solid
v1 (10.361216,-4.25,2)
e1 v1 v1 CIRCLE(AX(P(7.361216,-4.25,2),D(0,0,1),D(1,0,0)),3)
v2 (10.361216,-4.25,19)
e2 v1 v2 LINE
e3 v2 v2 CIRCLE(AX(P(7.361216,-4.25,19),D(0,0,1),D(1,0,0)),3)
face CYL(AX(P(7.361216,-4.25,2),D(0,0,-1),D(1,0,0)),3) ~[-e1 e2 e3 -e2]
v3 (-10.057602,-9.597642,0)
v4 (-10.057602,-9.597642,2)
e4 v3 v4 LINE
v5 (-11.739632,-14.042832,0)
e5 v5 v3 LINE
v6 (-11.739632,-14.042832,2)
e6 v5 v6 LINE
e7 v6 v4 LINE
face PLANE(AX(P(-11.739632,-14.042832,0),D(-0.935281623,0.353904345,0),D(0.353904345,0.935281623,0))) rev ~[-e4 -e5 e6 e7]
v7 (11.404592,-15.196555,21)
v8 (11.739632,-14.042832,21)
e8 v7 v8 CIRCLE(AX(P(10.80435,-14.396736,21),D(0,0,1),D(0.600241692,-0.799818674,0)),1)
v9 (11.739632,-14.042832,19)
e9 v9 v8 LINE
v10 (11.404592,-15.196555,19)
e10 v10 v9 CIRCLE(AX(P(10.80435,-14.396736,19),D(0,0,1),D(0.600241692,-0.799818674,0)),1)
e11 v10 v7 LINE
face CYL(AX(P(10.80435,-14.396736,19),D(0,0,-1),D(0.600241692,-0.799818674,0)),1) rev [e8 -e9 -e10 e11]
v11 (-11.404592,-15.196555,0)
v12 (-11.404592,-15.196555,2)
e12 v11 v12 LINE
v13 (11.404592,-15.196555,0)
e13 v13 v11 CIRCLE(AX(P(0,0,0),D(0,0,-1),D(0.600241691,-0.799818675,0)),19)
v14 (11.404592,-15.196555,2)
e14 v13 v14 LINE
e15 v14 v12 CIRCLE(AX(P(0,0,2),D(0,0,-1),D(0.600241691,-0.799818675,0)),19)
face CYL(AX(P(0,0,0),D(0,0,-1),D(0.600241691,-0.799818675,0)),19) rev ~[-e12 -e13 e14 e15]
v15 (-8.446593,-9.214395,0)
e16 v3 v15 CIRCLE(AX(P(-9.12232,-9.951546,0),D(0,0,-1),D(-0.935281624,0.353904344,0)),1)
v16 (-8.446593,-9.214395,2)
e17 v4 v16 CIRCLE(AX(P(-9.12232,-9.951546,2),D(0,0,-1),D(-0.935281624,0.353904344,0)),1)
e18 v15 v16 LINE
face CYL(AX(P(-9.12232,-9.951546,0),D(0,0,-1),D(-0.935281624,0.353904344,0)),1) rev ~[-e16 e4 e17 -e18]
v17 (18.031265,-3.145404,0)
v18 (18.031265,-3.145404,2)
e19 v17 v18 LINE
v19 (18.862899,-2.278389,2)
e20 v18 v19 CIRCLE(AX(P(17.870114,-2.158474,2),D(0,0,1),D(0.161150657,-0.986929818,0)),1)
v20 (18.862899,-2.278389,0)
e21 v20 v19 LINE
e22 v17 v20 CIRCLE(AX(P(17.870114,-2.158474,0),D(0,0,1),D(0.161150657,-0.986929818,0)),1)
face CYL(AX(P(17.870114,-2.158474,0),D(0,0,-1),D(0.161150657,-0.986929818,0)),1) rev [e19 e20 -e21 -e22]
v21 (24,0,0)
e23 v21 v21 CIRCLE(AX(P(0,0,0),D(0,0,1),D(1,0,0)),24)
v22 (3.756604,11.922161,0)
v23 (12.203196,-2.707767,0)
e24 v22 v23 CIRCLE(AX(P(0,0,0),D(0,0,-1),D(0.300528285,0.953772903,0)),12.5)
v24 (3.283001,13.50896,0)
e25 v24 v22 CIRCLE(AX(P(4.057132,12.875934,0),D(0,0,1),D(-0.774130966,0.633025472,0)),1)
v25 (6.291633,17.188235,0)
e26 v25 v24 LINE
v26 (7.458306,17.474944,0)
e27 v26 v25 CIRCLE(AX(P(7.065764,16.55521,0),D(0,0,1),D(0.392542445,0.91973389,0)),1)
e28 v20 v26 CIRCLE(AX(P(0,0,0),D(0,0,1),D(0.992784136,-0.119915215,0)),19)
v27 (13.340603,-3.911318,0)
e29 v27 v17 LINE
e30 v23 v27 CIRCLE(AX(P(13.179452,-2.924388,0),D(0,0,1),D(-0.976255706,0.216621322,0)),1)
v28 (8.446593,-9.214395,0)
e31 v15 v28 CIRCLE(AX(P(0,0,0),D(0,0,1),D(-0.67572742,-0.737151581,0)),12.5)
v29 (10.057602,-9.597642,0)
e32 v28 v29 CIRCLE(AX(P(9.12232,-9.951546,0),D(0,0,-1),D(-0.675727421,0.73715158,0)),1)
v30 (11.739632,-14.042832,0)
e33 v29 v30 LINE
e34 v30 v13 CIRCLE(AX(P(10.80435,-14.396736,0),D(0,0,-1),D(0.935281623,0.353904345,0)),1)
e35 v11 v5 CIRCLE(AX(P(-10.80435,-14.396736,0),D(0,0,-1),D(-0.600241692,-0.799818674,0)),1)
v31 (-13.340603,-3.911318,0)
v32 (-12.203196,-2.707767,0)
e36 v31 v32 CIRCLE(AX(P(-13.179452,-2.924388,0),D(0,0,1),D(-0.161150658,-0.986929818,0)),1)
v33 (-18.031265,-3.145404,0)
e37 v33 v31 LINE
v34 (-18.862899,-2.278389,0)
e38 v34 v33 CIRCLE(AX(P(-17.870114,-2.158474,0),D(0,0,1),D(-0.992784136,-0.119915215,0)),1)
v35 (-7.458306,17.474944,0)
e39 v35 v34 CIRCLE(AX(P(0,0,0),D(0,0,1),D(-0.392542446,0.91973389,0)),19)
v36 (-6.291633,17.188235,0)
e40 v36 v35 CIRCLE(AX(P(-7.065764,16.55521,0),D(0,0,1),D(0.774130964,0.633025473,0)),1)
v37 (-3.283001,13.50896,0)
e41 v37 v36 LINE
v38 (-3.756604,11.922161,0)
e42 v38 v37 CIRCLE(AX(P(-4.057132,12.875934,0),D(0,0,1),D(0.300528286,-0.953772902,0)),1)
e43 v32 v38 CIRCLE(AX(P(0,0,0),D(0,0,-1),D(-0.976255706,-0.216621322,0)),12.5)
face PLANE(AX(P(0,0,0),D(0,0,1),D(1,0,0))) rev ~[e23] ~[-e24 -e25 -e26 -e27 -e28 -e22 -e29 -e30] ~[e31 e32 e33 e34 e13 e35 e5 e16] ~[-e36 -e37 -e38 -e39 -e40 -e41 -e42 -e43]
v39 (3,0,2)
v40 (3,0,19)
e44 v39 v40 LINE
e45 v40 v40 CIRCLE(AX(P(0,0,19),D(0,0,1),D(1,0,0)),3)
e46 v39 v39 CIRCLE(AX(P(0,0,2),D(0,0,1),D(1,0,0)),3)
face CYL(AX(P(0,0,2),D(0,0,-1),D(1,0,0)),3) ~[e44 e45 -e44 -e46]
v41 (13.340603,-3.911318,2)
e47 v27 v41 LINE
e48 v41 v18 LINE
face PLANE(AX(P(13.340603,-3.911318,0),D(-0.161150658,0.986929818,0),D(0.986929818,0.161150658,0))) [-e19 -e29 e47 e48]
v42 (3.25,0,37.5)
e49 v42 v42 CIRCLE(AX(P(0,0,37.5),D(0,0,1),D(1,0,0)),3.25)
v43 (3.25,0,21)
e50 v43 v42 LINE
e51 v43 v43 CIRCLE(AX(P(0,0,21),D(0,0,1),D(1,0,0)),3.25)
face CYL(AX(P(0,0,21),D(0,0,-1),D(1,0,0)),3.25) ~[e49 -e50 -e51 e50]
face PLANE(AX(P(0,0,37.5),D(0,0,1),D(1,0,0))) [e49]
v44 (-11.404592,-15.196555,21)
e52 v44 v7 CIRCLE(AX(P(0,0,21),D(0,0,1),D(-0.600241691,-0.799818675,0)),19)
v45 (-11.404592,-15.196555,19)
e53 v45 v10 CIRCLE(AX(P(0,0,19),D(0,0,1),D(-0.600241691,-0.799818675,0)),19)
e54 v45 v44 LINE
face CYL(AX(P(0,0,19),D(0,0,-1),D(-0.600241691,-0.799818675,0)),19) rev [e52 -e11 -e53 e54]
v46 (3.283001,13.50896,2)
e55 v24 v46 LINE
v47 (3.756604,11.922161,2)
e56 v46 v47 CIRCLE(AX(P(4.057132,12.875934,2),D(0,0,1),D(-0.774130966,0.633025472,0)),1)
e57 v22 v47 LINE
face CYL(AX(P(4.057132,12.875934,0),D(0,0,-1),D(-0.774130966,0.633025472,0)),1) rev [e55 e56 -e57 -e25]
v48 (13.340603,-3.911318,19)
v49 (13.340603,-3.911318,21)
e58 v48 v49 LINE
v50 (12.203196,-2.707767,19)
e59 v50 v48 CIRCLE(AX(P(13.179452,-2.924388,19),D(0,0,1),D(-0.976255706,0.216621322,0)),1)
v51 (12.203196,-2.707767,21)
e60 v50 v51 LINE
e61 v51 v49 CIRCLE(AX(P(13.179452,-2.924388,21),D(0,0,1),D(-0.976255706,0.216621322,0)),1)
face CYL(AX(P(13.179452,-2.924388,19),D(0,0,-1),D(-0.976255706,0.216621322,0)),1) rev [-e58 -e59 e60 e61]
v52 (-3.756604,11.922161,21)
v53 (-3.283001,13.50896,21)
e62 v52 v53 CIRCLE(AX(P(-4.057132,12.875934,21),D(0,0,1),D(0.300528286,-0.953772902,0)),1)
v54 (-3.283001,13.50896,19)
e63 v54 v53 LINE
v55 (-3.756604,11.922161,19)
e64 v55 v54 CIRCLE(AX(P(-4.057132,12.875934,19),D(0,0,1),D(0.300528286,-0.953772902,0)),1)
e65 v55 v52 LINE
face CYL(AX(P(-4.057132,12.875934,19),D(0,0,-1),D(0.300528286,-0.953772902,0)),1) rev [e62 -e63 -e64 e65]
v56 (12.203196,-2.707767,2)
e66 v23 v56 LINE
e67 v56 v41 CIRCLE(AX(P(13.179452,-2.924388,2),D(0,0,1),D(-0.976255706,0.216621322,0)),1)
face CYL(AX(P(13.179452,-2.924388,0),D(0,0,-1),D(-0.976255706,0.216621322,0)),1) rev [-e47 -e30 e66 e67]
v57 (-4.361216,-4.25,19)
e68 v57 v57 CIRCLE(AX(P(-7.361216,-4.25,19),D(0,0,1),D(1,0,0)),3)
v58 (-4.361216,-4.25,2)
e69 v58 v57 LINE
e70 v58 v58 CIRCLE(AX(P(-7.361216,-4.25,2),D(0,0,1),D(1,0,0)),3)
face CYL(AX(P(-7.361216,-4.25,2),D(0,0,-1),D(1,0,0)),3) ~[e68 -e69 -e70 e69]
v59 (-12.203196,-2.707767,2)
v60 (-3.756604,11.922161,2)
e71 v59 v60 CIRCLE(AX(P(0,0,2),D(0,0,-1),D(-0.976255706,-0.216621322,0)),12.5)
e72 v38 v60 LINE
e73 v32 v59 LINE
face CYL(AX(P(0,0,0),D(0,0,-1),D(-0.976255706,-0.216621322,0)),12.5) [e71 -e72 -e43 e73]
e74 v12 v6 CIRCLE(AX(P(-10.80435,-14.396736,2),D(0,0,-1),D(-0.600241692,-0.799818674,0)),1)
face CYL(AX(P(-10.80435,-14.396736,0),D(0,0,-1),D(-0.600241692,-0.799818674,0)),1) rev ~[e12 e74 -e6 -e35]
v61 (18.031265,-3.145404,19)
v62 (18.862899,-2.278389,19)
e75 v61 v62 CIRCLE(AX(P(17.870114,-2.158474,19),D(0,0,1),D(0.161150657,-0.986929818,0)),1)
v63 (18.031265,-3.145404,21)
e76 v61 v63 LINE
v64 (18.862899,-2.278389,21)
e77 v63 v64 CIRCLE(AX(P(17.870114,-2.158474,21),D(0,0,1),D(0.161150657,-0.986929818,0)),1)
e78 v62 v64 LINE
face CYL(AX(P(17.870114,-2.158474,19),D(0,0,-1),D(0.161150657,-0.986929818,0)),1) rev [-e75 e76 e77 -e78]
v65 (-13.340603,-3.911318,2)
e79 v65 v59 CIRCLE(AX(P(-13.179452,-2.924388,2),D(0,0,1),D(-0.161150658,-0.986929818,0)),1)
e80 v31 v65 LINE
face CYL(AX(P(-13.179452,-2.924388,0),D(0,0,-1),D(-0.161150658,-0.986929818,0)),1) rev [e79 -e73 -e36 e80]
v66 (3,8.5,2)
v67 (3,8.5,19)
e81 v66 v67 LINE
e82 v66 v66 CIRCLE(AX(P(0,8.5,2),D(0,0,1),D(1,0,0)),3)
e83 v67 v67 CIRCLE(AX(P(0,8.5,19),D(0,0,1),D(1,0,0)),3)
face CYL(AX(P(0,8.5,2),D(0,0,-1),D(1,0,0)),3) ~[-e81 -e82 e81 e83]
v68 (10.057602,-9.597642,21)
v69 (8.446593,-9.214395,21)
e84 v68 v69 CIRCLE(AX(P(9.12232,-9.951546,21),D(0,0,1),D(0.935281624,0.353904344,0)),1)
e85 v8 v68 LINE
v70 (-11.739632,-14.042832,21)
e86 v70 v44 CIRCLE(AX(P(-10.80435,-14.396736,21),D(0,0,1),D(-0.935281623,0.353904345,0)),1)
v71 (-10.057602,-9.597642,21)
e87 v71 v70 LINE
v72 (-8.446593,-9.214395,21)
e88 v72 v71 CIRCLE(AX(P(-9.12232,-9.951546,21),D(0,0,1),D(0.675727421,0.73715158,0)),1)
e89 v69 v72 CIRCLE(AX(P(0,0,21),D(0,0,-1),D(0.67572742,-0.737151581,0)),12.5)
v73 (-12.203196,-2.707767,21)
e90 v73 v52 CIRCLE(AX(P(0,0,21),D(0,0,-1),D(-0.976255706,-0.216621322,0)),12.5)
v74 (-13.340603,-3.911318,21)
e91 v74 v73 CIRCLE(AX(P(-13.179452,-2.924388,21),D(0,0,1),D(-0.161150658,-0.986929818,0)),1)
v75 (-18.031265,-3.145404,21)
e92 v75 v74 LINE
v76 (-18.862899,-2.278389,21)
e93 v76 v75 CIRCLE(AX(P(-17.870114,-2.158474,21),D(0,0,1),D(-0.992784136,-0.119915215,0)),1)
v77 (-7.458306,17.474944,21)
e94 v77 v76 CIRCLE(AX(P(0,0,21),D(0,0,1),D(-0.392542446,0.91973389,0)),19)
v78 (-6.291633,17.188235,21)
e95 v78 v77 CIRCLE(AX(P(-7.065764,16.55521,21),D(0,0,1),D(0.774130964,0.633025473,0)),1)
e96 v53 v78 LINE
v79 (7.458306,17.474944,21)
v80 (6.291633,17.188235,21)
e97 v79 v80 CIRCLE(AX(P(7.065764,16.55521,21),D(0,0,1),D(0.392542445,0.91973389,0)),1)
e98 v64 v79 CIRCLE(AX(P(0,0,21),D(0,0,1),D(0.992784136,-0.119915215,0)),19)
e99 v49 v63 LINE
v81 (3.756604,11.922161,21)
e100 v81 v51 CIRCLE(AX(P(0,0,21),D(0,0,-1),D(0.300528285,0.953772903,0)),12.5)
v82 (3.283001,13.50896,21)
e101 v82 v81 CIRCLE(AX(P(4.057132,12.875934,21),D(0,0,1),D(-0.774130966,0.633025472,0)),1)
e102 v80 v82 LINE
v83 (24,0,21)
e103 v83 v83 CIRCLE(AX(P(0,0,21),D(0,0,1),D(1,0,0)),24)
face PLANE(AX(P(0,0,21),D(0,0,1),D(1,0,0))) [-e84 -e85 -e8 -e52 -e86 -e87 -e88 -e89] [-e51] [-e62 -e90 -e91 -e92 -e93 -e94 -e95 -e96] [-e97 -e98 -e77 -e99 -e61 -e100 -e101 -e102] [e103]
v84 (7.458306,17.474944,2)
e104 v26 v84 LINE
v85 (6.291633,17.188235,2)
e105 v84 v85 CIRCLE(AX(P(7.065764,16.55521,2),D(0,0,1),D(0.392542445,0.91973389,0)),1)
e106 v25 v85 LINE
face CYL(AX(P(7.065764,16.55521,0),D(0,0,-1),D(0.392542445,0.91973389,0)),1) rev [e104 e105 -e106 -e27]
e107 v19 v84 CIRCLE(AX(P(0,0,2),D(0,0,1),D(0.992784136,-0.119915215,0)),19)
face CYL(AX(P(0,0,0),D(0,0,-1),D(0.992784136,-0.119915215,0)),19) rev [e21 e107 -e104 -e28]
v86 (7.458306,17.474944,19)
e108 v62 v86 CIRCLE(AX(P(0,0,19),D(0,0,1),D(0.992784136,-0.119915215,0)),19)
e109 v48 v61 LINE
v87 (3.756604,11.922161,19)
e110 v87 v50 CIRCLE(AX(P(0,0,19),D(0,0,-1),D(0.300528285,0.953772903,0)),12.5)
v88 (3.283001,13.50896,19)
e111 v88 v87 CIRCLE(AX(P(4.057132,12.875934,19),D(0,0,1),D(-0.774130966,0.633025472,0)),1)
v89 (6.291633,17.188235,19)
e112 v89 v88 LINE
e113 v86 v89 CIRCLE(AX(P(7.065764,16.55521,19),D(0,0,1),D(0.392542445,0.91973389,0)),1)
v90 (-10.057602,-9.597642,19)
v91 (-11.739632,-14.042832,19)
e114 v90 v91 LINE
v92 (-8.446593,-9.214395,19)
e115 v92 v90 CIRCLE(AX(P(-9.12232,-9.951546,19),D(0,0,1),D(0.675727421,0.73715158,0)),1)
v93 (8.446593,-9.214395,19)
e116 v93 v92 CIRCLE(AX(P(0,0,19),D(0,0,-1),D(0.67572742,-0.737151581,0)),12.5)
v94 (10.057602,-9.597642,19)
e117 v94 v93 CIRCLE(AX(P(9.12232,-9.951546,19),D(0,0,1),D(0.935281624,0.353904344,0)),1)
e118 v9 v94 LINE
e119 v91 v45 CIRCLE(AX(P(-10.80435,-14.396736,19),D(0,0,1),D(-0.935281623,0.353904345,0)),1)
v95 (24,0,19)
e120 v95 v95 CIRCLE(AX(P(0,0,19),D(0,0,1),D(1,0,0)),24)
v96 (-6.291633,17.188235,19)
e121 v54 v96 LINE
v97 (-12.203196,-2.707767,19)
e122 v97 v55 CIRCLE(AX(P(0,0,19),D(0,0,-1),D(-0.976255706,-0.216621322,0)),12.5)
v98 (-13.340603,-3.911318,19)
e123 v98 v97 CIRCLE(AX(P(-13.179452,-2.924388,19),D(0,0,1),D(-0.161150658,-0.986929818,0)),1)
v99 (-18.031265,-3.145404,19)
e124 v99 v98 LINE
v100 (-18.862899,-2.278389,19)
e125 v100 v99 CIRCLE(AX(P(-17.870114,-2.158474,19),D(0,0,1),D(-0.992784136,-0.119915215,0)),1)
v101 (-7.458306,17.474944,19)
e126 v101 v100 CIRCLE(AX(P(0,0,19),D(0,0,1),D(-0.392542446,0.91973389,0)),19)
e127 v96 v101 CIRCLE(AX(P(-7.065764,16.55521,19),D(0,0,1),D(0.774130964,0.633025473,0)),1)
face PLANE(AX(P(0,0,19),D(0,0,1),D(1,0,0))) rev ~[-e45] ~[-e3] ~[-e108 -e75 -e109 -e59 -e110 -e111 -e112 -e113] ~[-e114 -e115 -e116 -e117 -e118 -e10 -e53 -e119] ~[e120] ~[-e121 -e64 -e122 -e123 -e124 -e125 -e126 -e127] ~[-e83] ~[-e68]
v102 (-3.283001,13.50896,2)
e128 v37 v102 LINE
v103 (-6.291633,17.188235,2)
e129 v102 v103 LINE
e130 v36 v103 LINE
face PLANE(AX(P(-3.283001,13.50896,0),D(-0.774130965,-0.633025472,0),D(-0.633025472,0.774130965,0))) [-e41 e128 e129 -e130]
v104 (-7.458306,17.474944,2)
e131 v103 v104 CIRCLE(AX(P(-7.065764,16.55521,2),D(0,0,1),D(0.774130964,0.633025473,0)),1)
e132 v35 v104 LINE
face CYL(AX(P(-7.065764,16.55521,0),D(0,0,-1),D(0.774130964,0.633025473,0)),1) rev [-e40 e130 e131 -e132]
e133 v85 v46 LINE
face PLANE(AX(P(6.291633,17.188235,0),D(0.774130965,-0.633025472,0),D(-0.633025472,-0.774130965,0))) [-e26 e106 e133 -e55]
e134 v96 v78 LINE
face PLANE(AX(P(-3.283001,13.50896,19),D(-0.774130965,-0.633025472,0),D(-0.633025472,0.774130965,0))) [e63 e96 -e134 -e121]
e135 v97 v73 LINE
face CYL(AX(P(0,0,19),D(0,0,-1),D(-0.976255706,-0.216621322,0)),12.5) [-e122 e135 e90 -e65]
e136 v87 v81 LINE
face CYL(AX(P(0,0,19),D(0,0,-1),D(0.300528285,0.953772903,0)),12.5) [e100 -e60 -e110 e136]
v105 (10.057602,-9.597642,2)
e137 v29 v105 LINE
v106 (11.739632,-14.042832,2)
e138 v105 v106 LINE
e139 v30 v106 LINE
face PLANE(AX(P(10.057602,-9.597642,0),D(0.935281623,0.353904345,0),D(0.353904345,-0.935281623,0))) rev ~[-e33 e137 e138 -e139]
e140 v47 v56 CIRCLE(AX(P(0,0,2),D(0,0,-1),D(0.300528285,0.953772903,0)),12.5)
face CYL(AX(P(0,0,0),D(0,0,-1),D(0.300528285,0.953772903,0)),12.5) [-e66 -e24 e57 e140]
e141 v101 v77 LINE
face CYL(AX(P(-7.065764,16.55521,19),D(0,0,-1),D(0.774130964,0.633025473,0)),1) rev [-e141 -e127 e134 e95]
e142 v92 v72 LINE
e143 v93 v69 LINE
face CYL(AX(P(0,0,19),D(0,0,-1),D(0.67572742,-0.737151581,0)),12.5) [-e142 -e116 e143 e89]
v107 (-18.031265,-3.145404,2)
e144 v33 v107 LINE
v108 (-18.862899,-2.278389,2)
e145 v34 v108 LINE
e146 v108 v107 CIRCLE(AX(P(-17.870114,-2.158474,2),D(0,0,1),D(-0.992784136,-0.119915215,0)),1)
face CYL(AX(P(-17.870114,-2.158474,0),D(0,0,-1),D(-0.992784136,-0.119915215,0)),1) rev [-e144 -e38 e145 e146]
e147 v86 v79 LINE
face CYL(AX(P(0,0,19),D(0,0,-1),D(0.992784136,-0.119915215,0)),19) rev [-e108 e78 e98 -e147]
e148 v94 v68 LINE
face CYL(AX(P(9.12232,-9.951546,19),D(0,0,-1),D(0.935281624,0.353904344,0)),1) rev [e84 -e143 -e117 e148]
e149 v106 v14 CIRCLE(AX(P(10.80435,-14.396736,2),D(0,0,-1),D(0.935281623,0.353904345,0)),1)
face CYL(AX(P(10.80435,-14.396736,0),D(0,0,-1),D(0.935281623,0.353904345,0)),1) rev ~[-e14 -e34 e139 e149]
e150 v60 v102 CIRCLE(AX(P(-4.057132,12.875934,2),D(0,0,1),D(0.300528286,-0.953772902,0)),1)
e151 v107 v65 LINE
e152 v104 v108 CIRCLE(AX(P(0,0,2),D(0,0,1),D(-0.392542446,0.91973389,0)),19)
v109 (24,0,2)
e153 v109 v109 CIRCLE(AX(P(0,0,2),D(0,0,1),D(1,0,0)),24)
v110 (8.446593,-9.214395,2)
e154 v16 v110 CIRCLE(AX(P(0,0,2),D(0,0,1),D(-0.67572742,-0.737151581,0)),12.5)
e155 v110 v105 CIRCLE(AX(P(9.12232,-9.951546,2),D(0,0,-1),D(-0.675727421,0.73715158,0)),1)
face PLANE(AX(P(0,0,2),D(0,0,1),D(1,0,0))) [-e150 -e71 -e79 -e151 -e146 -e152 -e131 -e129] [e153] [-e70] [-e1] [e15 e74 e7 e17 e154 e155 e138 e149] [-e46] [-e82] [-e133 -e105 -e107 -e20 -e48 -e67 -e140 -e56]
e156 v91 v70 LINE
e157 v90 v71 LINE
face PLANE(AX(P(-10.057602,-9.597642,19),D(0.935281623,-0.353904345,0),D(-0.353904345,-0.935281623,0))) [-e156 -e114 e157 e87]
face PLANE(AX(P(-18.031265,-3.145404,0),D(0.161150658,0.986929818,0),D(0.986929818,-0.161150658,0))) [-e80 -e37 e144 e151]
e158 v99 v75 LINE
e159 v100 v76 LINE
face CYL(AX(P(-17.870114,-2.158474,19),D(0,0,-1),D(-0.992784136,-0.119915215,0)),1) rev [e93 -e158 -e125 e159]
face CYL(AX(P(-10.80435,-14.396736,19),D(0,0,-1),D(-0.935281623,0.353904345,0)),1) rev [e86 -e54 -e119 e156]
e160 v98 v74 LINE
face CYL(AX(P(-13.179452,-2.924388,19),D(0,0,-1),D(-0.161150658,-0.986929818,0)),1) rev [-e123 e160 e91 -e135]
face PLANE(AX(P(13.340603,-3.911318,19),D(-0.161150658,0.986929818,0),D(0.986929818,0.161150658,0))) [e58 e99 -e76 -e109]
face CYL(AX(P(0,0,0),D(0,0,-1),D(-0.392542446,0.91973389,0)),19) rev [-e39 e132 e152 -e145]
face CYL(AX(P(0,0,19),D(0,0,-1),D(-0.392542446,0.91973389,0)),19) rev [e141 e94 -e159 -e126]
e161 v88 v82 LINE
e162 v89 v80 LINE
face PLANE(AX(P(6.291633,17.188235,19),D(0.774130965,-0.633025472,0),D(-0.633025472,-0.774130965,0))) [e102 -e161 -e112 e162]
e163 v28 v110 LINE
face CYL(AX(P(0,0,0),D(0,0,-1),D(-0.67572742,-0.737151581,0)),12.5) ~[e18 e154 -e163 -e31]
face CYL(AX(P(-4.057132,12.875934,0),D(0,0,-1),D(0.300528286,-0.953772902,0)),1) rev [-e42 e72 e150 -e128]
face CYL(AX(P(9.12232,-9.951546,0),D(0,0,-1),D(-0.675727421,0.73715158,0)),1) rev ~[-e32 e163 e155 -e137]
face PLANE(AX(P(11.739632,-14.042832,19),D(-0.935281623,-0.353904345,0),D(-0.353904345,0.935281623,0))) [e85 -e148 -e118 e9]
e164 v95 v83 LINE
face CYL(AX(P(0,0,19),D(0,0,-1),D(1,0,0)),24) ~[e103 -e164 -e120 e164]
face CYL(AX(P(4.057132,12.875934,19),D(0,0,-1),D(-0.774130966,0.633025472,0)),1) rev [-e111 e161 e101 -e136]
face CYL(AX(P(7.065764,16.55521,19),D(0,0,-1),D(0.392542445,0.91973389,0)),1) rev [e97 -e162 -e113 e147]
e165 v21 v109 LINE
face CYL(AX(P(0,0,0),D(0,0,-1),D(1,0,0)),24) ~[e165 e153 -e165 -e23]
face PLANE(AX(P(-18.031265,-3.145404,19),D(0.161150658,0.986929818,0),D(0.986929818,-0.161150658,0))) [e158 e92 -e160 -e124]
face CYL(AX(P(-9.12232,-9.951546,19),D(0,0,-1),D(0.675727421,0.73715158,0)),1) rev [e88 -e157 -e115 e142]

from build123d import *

# Parameters (mm, degrees)
SKETCH_1_R      = 24
EXTRUDE_1_DEPTH = 2
SKETCH_2_R      = 3
EXTRUDE_2_DEPTH = 17
SKETCH_3_R      = 24
EXTRUDE_3_DEPTH = 2
SKETCH_4_R      = 3.25
EXTRUDE_4_DEPTH = 16.5


with BuildPart() as part:
    # 草图1 → 凸台-拉伸1 (new body)
    with BuildSketch(Plane.XY):
        Circle(SKETCH_1_R)
        with BuildLine():
            Line((-11.739632055, -14.042831804), (-10.057601798, -9.597641998))
            ThreePointArc((-10.057601798, -9.597641998), (-9.353754198, -8.978695741), (-8.446592755, -9.214394762))
            ThreePointArc((-8.446592755, -9.214394762), (0, -12.5), (8.446592755, -9.214394762))
            ThreePointArc((8.446592755, -9.214394762), (9.353754198, -8.978695741), (10.057601798, -9.597641998))
            Line((10.057601798, -9.597641998), (11.739632055, -14.042831804))
            ThreePointArc((11.739632055, -14.042831804), (11.764677024, -14.675613965), (11.404592123, -15.196554824))
            ThreePointArc((11.404592123, -15.196554824), (0, -19), (-11.404592123, -15.196554824))
            ThreePointArc((-11.404592123, -15.196554824), (-11.764677024, -14.675613965), (-11.739632055, -14.042831804))
        make_face(mode=Mode.SUBTRACT)
        with BuildLine():
            Line((-18.03126511, -3.145403689), (-13.340602686, -3.91131766))
            ThreePointArc((-13.340602686, -3.91131766), (-12.452655704, -3.611240886), (-12.203196322, -2.70776652))
            ThreePointArc((-12.203196322, -2.70776652), (-10.825317547, 6.25), (-3.756603567, 11.922161282))
            ThreePointArc((-3.756603567, 11.922161282), (-3.098901506, 12.589936627), (-3.283000887, 13.508959657))
            Line((-3.283000887, 13.508959657), (-6.291633055, 17.188235493))
            ThreePointArc((-6.291633055, 17.188235493), (-6.827115998, 17.526316153), (-7.458306466, 17.47494391))
            ThreePointArc((-7.458306466, 17.47494391), (-16.454482672, 9.5), (-18.862898589, -2.278389086))
            ThreePointArc((-18.862898589, -2.278389086), (-18.591793022, -2.850702188), (-18.03126511, -3.145403689))
        make_face(mode=Mode.SUBTRACT)
        with BuildLine():
            Line((6.291633055, 17.188235493), (3.283000887, 13.508959657))
            ThreePointArc((3.283000887, 13.508959657), (3.098901506, 12.589936627), (3.756603567, 11.922161282))
            ThreePointArc((3.756603567, 11.922161282), (10.825317547, 6.25), (12.203196322, -2.70776652))
            ThreePointArc((12.203196322, -2.70776652), (12.452655704, -3.611240886), (13.340602686, -3.91131766))
            Line((13.340602686, -3.91131766), (18.03126511, -3.145403689))
            ThreePointArc((18.03126511, -3.145403689), (18.591793022, -2.850702188), (18.862898589, -2.278389086))
            ThreePointArc((18.862898589, -2.278389086), (16.454482672, 9.5), (7.458306466, 17.47494391))
            ThreePointArc((7.458306466, 17.47494391), (6.827115998, 17.526316153), (6.291633055, 17.188235493))
        make_face(mode=Mode.SUBTRACT)
    extrude(amount=EXTRUDE_1_DEPTH)

    # 草图2 → 凸台-拉伸2 (add)
    with BuildSketch(Plane.XY.offset(2)):
        Circle(SKETCH_2_R)
        with Locations((0, 8.5)):
            Circle(SKETCH_2_R)
        with Locations((7.361215932, -4.25)):
            Circle(SKETCH_2_R)
        with Locations((-7.361215932, -4.25)):
            Circle(SKETCH_2_R)
    extrude(amount=EXTRUDE_2_DEPTH)

    # 草图3 → 凸台-拉伸3 (add)
    with BuildSketch(Plane.XY.offset(19)):
        Circle(SKETCH_3_R)
        with BuildLine():
            Line((-10.057601798, -9.597641998), (-11.739632055, -14.042831804))
            ThreePointArc((-11.739632055, -14.042831804), (-11.764677024, -14.675613965), (-11.404592123, -15.196554824))
            ThreePointArc((-11.404592123, -15.196554824), (0, -19), (11.404592123, -15.196554824))
            ThreePointArc((11.404592123, -15.196554824), (11.764677024, -14.675613965), (11.739632055, -14.042831804))
            Line((11.739632055, -14.042831804), (10.057601798, -9.597641998))
            ThreePointArc((10.057601798, -9.597641998), (9.353754198, -8.978695741), (8.446592755, -9.214394762))
            ThreePointArc((8.446592755, -9.214394762), (0, -12.5), (-8.446592755, -9.214394762))
            ThreePointArc((-8.446592755, -9.214394762), (-9.353754198, -8.978695741), (-10.057601798, -9.597641998))
        make_face(mode=Mode.SUBTRACT)
        with BuildLine():
            Line((6.291633055, 17.188235493), (3.283000887, 13.508959657))
            ThreePointArc((3.283000887, 13.508959657), (3.098901506, 12.589936627), (3.756603567, 11.922161282))
            ThreePointArc((3.756603567, 11.922161282), (10.825317547, 6.25), (12.203196322, -2.70776652))
            ThreePointArc((12.203196322, -2.70776652), (12.452655704, -3.611240886), (13.340602686, -3.91131766))
            Line((13.340602686, -3.91131766), (18.03126511, -3.145403689))
            ThreePointArc((18.03126511, -3.145403689), (18.591793022, -2.850702188), (18.862898589, -2.278389086))
            ThreePointArc((18.862898589, -2.278389086), (16.454482672, 9.5), (7.458306466, 17.47494391))
            ThreePointArc((7.458306466, 17.47494391), (6.827115998, 17.526316153), (6.291633055, 17.188235493))
        make_face(mode=Mode.SUBTRACT)
        with BuildLine():
            Line((-3.283000887, 13.508959657), (-6.291633055, 17.188235493))
            ThreePointArc((-6.291633055, 17.188235493), (-6.827115998, 17.526316153), (-7.458306466, 17.47494391))
            ThreePointArc((-7.458306466, 17.47494391), (-16.454482672, 9.5), (-18.862898589, -2.278389086))
            ThreePointArc((-18.862898589, -2.278389086), (-18.591793022, -2.850702188), (-18.03126511, -3.145403689))
            Line((-18.03126511, -3.145403689), (-13.340602686, -3.91131766))
            ThreePointArc((-13.340602686, -3.91131766), (-12.452655704, -3.611240886), (-12.203196322, -2.70776652))
            ThreePointArc((-12.203196322, -2.70776652), (-10.825317547, 6.25), (-3.756603567, 11.922161282))
            ThreePointArc((-3.756603567, 11.922161282), (-3.098901506, 12.589936627), (-3.283000887, 13.508959657))
        make_face(mode=Mode.SUBTRACT)
    extrude(amount=EXTRUDE_3_DEPTH)

    # 草图4 → 凸台-拉伸4 (add)
    with BuildSketch(Plane.XY.offset(21)):
        Circle(SKETCH_4_R)
    extrude(amount=EXTRUDE_4_DEPTH)


solid = part.part
